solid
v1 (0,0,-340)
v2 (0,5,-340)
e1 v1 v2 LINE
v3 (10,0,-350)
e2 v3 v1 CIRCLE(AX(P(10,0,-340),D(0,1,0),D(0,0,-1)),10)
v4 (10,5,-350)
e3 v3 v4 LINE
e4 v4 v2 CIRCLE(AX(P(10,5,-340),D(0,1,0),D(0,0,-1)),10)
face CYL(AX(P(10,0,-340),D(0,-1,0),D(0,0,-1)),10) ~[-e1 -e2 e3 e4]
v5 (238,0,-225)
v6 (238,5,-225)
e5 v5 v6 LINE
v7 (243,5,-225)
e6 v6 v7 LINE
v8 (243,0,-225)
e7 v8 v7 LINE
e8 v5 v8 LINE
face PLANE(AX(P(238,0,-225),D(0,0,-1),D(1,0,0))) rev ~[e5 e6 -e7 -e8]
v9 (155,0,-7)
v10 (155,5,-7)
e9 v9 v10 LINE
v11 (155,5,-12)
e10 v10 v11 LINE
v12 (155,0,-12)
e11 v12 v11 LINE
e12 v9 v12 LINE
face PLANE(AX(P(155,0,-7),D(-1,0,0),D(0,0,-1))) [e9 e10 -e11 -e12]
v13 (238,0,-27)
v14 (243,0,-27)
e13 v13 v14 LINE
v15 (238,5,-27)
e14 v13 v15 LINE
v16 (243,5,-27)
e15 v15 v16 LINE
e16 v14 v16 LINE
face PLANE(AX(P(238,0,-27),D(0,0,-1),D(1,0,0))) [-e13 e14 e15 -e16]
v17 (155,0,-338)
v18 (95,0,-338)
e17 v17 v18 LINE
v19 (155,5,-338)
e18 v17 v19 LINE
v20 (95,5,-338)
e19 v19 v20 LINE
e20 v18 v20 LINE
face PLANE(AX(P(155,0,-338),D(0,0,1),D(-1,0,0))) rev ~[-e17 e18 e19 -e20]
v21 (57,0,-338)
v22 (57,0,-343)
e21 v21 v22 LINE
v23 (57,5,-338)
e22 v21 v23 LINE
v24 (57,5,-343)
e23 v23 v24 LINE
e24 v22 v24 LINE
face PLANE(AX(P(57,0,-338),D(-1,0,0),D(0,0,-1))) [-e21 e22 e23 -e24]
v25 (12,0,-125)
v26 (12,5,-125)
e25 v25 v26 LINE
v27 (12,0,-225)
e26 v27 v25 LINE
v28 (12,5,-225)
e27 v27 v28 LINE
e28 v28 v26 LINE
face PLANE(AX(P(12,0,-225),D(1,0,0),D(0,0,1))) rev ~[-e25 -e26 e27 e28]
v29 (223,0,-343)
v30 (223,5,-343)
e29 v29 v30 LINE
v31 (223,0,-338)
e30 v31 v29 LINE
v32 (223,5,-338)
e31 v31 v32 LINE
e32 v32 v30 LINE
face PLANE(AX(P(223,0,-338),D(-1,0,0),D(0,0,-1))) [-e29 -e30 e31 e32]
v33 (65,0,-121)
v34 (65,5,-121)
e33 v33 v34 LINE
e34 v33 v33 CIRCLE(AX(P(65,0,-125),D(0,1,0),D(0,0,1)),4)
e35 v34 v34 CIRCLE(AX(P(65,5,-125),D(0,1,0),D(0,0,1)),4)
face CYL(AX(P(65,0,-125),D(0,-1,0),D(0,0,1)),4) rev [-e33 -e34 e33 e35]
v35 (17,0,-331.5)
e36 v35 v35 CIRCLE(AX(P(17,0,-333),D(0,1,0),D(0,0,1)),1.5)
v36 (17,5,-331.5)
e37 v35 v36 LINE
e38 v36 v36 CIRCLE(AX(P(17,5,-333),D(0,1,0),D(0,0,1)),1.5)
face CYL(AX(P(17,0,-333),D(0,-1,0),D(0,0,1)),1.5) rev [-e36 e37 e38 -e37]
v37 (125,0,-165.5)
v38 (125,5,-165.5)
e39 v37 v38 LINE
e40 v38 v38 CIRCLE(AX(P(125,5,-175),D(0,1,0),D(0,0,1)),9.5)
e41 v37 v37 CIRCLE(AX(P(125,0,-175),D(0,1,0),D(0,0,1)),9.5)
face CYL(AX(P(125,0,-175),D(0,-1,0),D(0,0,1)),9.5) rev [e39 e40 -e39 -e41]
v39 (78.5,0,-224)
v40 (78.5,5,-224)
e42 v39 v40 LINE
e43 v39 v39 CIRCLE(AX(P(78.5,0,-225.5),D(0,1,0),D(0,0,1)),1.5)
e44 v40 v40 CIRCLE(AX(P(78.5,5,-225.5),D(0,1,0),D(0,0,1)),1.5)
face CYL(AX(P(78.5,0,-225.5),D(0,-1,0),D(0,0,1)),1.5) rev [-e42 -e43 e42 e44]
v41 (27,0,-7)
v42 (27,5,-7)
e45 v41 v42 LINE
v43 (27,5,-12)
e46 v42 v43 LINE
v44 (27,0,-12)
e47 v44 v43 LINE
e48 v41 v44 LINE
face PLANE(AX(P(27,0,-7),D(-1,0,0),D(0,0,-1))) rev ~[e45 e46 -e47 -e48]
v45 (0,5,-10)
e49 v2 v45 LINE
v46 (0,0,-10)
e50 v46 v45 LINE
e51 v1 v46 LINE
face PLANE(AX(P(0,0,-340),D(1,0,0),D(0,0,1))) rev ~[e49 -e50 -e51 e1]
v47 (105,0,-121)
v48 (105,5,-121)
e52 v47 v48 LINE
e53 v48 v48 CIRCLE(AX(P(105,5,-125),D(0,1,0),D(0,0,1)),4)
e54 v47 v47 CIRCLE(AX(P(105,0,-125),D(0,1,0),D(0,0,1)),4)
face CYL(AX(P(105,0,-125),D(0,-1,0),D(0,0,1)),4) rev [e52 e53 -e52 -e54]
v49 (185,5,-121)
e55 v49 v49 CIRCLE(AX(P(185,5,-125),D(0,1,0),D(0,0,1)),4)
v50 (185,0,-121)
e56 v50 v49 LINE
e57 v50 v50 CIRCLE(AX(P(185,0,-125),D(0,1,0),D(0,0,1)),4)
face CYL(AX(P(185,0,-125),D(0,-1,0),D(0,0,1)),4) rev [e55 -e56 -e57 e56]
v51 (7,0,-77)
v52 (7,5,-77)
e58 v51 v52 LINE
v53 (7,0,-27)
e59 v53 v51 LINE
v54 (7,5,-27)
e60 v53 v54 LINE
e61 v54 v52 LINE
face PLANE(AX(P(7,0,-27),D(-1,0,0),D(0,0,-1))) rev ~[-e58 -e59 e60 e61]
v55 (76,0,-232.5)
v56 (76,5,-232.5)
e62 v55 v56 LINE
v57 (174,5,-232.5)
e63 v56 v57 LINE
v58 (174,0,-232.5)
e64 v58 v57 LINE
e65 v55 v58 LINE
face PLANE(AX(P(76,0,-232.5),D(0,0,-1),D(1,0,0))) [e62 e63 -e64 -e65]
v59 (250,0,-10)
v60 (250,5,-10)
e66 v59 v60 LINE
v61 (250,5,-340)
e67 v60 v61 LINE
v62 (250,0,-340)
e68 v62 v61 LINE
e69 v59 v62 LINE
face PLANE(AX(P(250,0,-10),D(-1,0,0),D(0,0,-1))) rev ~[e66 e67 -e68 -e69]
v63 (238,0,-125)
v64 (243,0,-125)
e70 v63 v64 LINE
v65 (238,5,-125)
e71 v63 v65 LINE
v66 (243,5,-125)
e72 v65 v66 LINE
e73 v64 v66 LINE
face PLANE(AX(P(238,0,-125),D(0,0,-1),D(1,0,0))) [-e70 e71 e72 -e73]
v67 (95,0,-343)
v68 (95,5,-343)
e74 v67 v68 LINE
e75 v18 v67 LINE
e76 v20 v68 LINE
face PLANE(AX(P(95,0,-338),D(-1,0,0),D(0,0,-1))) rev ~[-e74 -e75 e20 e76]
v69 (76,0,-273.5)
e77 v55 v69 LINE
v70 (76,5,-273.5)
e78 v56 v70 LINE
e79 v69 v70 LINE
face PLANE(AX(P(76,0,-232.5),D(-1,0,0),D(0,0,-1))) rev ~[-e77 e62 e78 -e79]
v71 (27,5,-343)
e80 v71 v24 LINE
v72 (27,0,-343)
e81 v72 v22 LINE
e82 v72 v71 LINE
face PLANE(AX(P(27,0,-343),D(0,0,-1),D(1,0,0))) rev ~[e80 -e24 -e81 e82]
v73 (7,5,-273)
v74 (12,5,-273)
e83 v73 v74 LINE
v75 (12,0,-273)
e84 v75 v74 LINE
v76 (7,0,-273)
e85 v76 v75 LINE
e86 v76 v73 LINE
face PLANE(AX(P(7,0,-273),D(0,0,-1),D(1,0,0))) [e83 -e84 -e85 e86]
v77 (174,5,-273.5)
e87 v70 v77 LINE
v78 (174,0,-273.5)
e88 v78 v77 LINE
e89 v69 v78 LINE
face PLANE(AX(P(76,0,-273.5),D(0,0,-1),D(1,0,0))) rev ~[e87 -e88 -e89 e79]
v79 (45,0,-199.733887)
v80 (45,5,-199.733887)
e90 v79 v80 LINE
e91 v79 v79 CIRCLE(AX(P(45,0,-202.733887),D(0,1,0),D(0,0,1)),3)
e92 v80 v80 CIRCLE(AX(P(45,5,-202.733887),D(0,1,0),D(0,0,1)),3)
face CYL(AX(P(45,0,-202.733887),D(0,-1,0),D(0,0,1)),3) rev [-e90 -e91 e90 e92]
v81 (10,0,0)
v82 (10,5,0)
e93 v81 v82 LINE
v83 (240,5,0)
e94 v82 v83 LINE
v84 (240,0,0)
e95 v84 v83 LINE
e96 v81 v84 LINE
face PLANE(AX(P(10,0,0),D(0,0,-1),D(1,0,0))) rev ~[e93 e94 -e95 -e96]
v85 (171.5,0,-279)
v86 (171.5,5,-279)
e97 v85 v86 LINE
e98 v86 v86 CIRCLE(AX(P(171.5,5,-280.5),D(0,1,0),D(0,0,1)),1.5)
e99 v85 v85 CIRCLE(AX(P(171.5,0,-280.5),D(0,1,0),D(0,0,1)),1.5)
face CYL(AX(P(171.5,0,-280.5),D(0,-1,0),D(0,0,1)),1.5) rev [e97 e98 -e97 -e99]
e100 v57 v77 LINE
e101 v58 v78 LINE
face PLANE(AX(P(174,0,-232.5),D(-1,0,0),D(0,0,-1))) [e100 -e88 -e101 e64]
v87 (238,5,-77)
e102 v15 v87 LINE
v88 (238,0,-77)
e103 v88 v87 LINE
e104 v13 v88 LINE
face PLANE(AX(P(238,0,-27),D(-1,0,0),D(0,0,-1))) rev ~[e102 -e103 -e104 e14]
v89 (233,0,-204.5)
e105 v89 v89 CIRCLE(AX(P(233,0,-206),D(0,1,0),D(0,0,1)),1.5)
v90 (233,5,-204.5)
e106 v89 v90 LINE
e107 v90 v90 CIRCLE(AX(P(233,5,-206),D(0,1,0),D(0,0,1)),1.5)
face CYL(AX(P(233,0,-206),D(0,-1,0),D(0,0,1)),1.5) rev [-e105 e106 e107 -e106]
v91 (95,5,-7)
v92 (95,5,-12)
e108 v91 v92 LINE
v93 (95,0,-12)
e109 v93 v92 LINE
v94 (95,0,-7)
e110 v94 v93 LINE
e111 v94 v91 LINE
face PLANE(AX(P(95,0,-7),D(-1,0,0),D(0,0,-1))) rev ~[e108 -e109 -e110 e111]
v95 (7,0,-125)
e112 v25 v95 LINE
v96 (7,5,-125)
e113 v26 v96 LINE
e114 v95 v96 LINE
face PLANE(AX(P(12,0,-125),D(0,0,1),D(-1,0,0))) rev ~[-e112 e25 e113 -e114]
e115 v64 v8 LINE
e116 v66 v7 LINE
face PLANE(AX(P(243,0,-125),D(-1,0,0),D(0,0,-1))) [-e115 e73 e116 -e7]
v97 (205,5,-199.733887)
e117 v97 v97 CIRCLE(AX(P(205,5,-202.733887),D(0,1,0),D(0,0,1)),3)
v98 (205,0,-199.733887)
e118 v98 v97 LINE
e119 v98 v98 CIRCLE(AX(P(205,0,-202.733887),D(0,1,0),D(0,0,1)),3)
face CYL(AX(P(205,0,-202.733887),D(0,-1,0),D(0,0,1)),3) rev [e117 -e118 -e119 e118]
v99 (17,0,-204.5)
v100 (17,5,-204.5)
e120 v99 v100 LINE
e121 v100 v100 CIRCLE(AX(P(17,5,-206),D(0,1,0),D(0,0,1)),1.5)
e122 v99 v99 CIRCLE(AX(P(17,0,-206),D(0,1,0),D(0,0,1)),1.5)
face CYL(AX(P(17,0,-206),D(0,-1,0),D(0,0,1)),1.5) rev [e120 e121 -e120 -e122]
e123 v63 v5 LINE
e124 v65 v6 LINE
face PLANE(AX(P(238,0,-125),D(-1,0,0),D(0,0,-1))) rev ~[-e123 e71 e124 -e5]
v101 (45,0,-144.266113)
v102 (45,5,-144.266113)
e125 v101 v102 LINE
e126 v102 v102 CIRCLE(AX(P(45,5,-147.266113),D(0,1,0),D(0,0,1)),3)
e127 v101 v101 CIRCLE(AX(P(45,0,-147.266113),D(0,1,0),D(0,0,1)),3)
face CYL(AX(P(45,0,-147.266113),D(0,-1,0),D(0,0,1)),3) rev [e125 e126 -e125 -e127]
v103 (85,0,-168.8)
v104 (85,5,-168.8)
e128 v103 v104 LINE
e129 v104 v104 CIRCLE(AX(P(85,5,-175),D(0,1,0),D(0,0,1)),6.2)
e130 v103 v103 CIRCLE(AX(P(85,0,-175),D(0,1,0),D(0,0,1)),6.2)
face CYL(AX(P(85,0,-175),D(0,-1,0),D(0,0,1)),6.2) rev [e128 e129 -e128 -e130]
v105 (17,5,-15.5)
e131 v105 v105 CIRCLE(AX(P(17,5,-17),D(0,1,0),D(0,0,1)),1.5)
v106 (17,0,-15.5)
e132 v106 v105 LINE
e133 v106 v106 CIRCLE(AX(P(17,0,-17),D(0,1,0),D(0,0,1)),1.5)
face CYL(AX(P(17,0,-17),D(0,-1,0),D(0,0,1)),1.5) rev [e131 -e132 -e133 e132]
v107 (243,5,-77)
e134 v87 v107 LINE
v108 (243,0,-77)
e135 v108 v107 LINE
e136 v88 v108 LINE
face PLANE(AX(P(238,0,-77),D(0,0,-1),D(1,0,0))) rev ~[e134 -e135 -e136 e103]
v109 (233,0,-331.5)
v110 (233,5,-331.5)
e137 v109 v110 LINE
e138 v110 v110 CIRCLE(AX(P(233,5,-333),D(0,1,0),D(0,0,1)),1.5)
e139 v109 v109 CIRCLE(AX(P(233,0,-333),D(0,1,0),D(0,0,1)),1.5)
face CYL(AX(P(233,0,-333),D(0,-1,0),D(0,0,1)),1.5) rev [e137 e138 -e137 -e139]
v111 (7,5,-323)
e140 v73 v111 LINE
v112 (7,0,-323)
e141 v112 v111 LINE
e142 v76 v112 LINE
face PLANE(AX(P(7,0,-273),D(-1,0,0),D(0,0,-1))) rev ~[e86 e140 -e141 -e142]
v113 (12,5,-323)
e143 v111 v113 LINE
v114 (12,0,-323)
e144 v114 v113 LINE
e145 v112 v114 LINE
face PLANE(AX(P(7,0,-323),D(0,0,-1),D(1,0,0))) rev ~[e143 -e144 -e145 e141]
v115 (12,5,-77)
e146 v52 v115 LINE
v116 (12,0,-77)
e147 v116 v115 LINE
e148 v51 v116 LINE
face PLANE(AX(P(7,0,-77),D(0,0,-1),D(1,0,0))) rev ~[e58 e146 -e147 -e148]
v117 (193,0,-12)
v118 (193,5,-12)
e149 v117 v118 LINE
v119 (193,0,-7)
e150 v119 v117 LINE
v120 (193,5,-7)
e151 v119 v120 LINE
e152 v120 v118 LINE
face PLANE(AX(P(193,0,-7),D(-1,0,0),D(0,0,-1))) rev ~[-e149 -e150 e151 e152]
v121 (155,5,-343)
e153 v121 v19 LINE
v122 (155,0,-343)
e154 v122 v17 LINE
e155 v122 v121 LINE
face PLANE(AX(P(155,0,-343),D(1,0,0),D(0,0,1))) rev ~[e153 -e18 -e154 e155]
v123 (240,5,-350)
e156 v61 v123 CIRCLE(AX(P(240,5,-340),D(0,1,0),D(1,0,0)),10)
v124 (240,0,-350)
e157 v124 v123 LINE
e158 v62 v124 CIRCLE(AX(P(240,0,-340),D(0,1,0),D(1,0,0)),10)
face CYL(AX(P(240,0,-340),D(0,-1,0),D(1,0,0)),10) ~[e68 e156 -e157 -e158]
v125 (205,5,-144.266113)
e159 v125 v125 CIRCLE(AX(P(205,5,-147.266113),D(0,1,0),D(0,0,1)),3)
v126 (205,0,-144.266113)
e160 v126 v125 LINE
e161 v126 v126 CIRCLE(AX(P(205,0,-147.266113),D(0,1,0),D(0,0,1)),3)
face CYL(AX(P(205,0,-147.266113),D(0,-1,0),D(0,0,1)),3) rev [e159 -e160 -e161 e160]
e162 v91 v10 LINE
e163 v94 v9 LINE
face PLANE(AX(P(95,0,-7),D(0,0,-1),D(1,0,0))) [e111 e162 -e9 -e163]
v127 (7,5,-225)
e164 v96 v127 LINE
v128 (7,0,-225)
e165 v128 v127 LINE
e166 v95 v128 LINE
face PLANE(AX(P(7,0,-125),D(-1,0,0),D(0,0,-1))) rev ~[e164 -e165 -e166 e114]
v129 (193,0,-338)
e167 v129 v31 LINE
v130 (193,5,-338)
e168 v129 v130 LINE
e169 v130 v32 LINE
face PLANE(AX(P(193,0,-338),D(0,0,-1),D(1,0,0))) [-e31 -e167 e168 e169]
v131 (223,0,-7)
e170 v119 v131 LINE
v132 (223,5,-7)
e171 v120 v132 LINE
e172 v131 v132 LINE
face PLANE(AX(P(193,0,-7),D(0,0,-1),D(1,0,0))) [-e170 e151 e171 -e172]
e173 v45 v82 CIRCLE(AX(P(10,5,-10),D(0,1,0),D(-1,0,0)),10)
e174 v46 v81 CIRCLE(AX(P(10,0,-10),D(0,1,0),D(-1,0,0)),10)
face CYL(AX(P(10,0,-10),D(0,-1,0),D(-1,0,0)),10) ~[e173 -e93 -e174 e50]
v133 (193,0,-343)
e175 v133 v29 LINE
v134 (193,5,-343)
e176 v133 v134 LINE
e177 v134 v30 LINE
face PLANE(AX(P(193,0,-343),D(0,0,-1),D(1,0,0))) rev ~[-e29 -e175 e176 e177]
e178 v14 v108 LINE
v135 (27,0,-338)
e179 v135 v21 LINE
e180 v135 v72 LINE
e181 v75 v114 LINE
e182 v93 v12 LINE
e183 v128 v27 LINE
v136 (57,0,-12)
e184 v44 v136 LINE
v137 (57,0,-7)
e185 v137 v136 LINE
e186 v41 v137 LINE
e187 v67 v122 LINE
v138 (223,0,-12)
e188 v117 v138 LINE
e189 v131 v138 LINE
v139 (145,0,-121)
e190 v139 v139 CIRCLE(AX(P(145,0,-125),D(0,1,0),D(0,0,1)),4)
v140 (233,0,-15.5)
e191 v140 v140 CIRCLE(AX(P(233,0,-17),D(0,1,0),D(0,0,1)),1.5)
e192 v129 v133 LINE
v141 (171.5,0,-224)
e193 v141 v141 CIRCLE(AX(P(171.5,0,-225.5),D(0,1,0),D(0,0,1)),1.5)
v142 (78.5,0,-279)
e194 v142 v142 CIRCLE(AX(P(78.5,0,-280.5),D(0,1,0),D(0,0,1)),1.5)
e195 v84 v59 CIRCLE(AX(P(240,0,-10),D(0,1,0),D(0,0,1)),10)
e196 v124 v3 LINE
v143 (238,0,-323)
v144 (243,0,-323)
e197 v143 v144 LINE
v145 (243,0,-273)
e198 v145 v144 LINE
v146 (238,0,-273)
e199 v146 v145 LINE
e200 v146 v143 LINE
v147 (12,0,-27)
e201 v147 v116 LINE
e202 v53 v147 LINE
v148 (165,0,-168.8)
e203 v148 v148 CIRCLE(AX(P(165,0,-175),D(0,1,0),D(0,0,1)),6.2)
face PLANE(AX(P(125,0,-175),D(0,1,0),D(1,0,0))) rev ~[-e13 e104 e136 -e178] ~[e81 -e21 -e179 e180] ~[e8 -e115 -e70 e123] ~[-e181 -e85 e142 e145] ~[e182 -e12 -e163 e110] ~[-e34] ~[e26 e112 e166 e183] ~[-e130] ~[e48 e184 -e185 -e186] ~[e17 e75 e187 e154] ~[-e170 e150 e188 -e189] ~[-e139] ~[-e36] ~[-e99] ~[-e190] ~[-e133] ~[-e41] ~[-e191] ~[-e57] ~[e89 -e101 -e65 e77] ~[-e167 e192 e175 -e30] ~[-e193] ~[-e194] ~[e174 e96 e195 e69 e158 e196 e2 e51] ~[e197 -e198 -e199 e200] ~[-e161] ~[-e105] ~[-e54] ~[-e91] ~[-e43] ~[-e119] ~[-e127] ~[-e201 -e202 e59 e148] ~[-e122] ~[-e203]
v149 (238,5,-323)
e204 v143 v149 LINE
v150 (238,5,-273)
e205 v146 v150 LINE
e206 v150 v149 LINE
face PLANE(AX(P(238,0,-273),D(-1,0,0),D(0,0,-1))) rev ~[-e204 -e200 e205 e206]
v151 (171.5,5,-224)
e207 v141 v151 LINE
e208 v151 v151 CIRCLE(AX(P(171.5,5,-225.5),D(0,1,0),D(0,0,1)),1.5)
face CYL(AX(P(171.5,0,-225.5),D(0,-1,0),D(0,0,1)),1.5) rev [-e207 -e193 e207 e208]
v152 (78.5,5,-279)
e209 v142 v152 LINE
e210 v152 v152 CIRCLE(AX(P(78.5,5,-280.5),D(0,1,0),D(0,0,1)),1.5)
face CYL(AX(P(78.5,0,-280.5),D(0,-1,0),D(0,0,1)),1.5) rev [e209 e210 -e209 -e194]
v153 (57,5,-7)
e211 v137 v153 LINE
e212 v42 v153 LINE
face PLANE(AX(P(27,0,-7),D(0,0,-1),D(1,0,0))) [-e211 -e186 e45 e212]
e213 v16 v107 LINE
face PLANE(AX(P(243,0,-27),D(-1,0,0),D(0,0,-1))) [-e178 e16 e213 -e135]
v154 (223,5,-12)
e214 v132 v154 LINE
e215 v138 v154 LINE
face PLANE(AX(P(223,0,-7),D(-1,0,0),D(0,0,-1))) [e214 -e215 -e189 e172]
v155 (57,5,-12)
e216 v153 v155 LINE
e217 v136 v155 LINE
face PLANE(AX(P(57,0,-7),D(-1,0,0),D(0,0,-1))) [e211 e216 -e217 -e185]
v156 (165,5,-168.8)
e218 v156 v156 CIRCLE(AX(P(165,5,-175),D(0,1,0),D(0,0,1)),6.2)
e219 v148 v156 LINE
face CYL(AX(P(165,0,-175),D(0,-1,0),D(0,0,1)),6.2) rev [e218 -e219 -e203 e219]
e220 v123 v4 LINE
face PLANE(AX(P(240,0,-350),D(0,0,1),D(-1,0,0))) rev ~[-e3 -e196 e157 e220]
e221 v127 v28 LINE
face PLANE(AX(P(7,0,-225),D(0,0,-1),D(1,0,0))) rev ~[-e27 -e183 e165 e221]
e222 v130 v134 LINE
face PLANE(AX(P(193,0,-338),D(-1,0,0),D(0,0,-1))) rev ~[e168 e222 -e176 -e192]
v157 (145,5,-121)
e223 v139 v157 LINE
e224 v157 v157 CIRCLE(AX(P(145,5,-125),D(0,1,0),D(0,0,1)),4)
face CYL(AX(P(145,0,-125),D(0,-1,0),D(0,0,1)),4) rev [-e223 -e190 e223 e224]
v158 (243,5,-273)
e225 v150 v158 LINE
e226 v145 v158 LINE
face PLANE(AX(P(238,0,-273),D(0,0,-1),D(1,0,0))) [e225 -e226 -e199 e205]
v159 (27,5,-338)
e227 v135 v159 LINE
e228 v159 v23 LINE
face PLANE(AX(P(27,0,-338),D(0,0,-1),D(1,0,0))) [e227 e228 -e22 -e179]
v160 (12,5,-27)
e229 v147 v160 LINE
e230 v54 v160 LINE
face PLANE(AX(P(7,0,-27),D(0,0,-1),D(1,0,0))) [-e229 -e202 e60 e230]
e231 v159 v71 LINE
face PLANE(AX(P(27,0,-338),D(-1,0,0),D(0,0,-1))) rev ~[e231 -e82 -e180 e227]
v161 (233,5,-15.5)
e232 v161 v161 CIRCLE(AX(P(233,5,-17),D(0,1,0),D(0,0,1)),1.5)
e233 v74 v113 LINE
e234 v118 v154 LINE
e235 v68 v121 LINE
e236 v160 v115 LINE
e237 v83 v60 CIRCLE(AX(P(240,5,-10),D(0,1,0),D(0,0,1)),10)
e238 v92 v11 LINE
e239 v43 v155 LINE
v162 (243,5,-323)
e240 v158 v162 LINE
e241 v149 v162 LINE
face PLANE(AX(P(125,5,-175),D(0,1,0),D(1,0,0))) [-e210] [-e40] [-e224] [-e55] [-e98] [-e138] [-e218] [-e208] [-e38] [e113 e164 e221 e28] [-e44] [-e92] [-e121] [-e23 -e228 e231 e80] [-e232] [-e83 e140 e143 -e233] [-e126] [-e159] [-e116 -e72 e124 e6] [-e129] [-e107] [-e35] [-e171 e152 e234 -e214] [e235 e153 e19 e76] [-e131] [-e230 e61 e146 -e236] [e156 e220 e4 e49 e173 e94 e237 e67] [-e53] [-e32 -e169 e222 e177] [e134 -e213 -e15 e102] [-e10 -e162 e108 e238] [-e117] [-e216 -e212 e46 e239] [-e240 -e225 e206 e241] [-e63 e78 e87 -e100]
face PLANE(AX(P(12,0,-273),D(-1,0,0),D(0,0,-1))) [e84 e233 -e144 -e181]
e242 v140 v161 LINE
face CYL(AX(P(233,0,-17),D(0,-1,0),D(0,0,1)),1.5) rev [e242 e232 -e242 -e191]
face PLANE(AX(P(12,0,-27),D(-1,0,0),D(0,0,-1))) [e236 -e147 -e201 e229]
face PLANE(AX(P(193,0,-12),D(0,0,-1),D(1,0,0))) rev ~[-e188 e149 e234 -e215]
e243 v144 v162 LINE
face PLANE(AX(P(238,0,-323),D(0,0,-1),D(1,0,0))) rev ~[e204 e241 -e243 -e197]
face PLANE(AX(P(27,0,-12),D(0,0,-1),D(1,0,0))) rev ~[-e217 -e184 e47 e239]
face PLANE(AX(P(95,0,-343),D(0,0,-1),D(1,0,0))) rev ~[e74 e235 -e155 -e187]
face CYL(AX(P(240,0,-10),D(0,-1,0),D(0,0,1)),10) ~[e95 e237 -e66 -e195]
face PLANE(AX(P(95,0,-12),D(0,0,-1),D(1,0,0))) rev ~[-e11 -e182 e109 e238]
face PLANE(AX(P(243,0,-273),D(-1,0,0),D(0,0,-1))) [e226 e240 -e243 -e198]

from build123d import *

# Parameters (mm, degrees)
SKETCH1_R           = 1.5
SKETCH1_W           = 30
SKETCH1_H           = 5
SKETCH1_W_2         = 5
SKETCH1_H_2         = 50
SKETCH1_R_2         = 3
SKETCH1_R_3         = 4
SKETCH1_W_3         = 60
SKETCH1_R_4         = 6.2
SKETCH1_R_5         = 9.5
SKETCH1_W_4         = 98
SKETCH1_H_3         = 41
SKETCH1_H_4         = 100
BOSS_EXTRUDE1_DEPTH = 5


with BuildPart() as part:
    # Sketch1 → Boss-Extrude1 (new body)
    # profile 1 of 2: a face of its own
    with BuildSketch(Plane(origin=(0, 0, 0), x_dir=(1, 0, 0), z_dir=(0, 1, 0))):
        with BuildLine():
            ThreePointArc((0, 10), (2.928932188, 2.928932188), (10, 0))
            Line((10, 0), (240, 0))
            ThreePointArc((240, 0), (247.071067812, 2.928932188), (250, 10))
            Line((250, 10), (250, 340))
            ThreePointArc((250, 340), (247.071067812, 347.071067812), (240, 350))
            Line((240, 350), (10, 350))
            ThreePointArc((10, 350), (2.928932188, 347.071067812), (0, 340))
            Line((0, 340), (0, 10))
        make_face()
        with Locations(Location((17, 17, 0), (0, 0, 270))):
            Circle(SKETCH1_R, mode=Mode.SUBTRACT)
        with Locations((42, 9.5)):
            Rectangle(SKETCH1_W, SKETCH1_H, mode=Mode.SUBTRACT)
        with Locations((9.5, 52)):
            Rectangle(SKETCH1_W_2, SKETCH1_H_2, mode=Mode.SUBTRACT)
        with Locations(Location((45, 147.266112644, 0), (0, 0, 270))):
            Circle(SKETCH1_R_2, mode=Mode.SUBTRACT)
        with Locations(Location((65, 125, 0), (0, 0, 270))):
            Circle(SKETCH1_R_3, mode=Mode.SUBTRACT)
        with Locations(Location((105, 125, 0), (0, 0, 270))):
            Circle(SKETCH1_R_3, mode=Mode.SUBTRACT)
        with Locations((125, 9.5)):
            Rectangle(SKETCH1_W_3, SKETCH1_H, mode=Mode.SUBTRACT)
        with Locations((208, 9.5)):
            Rectangle(SKETCH1_W, SKETCH1_H, mode=Mode.SUBTRACT)
        with Locations(Location((233, 17, 0), (0, 0, 270))):
            Circle(SKETCH1_R, mode=Mode.SUBTRACT)
        with Locations((240.5, 52)):
            Rectangle(SKETCH1_W_2, SKETCH1_H_2, mode=Mode.SUBTRACT)
        with Locations(Location((145, 125, 0), (0, 0, 270))):
            Circle(SKETCH1_R_3, mode=Mode.SUBTRACT)
        with Locations(Location((185, 125, 0), (0, 0, 270))):
            Circle(SKETCH1_R_3, mode=Mode.SUBTRACT)
        with Locations(Location((205, 147.266112644, 0), (0, 0, 270))):
            Circle(SKETCH1_R_2, mode=Mode.SUBTRACT)
        Polygon((7, 175), (7, 225), (12, 225), (12, 125), (7, 125), align=None, mode=Mode.SUBTRACT)
        with Locations(Location((17, 206, 0), (0, 0, 270))):
            Circle(SKETCH1_R, mode=Mode.SUBTRACT)
        with Locations(Location((45, 202.733887356, 0), (0, 0, 270))):
            Circle(SKETCH1_R_2, mode=Mode.SUBTRACT)
        with Locations(Location((85, 175, 0), (0, 0, 270))):
            Circle(SKETCH1_R_4, mode=Mode.SUBTRACT)
        with Locations(Location((78.5, 225.5, 0), (0, 0, 270))):
            Circle(SKETCH1_R, mode=Mode.SUBTRACT)
        with Locations((9.5, 298)):
            Rectangle(SKETCH1_W_2, SKETCH1_H_2, mode=Mode.SUBTRACT)
        with Locations(Location((17, 333, 0), (0, 0, 270))):
            Circle(SKETCH1_R, mode=Mode.SUBTRACT)
        with Locations((42, 340.5)):
            Rectangle(SKETCH1_W, SKETCH1_H, mode=Mode.SUBTRACT)
        with Locations(Location((78.5, 280.5, 0), (0, 0, 270))):
            Circle(SKETCH1_R, mode=Mode.SUBTRACT)
        with Locations(Location((125, 175, 0), (0, 0, 270))):
            Circle(SKETCH1_R_5, mode=Mode.SUBTRACT)
        with Locations(Location((165, 175, 0), (0, 0, 270))):
            Circle(SKETCH1_R_4, mode=Mode.SUBTRACT)
        with Locations((125, 253)):
            Rectangle(SKETCH1_W_4, SKETCH1_H_3, mode=Mode.SUBTRACT)
        with Locations(Location((171.5, 225.5, 0), (0, 0, 270))):
            Circle(SKETCH1_R, mode=Mode.SUBTRACT)
        with Locations(Location((205, 202.733887356, 0), (0, 0, 270))):
            Circle(SKETCH1_R_2, mode=Mode.SUBTRACT)
        with Locations((240.5, 175)):
            Rectangle(SKETCH1_W_2, SKETCH1_H_4, mode=Mode.SUBTRACT)
        with Locations(Location((233, 206, 0), (0, 0, 270))):
            Circle(SKETCH1_R, mode=Mode.SUBTRACT)
        with Locations(Location((171.5, 280.5, 0), (0, 0, 270))):
            Circle(SKETCH1_R, mode=Mode.SUBTRACT)
        Polygon((95, 343), (125, 343), (155, 343), (155, 338), (95, 338), align=None, mode=Mode.SUBTRACT)
        with Locations((240.5, 298)):
            Rectangle(SKETCH1_W_2, SKETCH1_H_2, mode=Mode.SUBTRACT)
        with Locations((208, 340.5)):
            Rectangle(SKETCH1_W, SKETCH1_H, mode=Mode.SUBTRACT)
        with Locations(Location((233, 333, 0), (0, 0, 270))):
            Circle(SKETCH1_R, mode=Mode.SUBTRACT)
    # profile 2 of 2: a face of its own
    with BuildSketch(Plane(origin=(0, 0, 0), x_dir=(1, 0, 0), z_dir=(0, 1, 0))):
        with BuildLine():
            ThreePointArc((0, 10), (2.928932188, 2.928932188), (10, 0))
            Line((10, 0), (240, 0))
            ThreePointArc((240, 0), (247.071067812, 2.928932188), (250, 10))
            Line((250, 10), (250, 340))
            ThreePointArc((250, 340), (247.071067812, 347.071067812), (240, 350))
            Line((240, 350), (10, 350))
            ThreePointArc((10, 350), (2.928932188, 347.071067812), (0, 340))
            Line((0, 340), (0, 10))
        make_face()
        with Locations(Location((17, 17, 0), (0, 0, 270))):
            Circle(SKETCH1_R, mode=Mode.SUBTRACT)
        with Locations((42, 9.5)):
            Rectangle(SKETCH1_W, SKETCH1_H, mode=Mode.SUBTRACT)
        with Locations((9.5, 52)):
            Rectangle(SKETCH1_W_2, SKETCH1_H_2, mode=Mode.SUBTRACT)
        with Locations(Location((45, 147.266112644, 0), (0, 0, 270))):
            Circle(SKETCH1_R_2, mode=Mode.SUBTRACT)
        with Locations(Location((65, 125, 0), (0, 0, 270))):
            Circle(SKETCH1_R_3, mode=Mode.SUBTRACT)
        with Locations(Location((105, 125, 0), (0, 0, 270))):
            Circle(SKETCH1_R_3, mode=Mode.SUBTRACT)
        with Locations((125, 9.5)):
            Rectangle(SKETCH1_W_3, SKETCH1_H, mode=Mode.SUBTRACT)
        with Locations((208, 9.5)):
            Rectangle(SKETCH1_W, SKETCH1_H, mode=Mode.SUBTRACT)
        with Locations(Location((233, 17, 0), (0, 0, 270))):
            Circle(SKETCH1_R, mode=Mode.SUBTRACT)
        with Locations((240.5, 52)):
            Rectangle(SKETCH1_W_2, SKETCH1_H_2, mode=Mode.SUBTRACT)
        with Locations(Location((145, 125, 0), (0, 0, 270))):
            Circle(SKETCH1_R_3, mode=Mode.SUBTRACT)
        with Locations(Location((185, 125, 0), (0, 0, 270))):
            Circle(SKETCH1_R_3, mode=Mode.SUBTRACT)
        with Locations(Location((205, 147.266112644, 0), (0, 0, 270))):
            Circle(SKETCH1_R_2, mode=Mode.SUBTRACT)
        Polygon((7, 175), (7, 225), (12, 225), (12, 125), (7, 125), align=None, mode=Mode.SUBTRACT)
        with Locations(Location((17, 206, 0), (0, 0, 270))):
            Circle(SKETCH1_R, mode=Mode.SUBTRACT)
        with Locations(Location((45, 202.733887356, 0), (0, 0, 270))):
            Circle(SKETCH1_R_2, mode=Mode.SUBTRACT)
        with Locations(Location((85, 175, 0), (0, 0, 270))):
            Circle(SKETCH1_R_4, mode=Mode.SUBTRACT)
        with Locations(Location((78.5, 225.5, 0), (0, 0, 270))):
            Circle(SKETCH1_R, mode=Mode.SUBTRACT)
        with Locations((9.5, 298)):
            Rectangle(SKETCH1_W_2, SKETCH1_H_2, mode=Mode.SUBTRACT)
        with Locations(Location((17, 333, 0), (0, 0, 270))):
            Circle(SKETCH1_R, mode=Mode.SUBTRACT)
        with Locations((42, 340.5)):
            Rectangle(SKETCH1_W, SKETCH1_H, mode=Mode.SUBTRACT)
        with Locations(Location((78.5, 280.5, 0), (0, 0, 270))):
            Circle(SKETCH1_R, mode=Mode.SUBTRACT)
        with Locations(Location((125, 175, 0), (0, 0, 270))):
            Circle(SKETCH1_R_5, mode=Mode.SUBTRACT)
        with Locations(Location((165, 175, 0), (0, 0, 270))):
            Circle(SKETCH1_R_4, mode=Mode.SUBTRACT)
        with Locations((125, 253)):
            Rectangle(SKETCH1_W_4, SKETCH1_H_3, mode=Mode.SUBTRACT)
        with Locations(Location((171.5, 225.5, 0), (0, 0, 270))):
            Circle(SKETCH1_R, mode=Mode.SUBTRACT)
        with Locations(Location((205, 202.733887356, 0), (0, 0, 270))):
            Circle(SKETCH1_R_2, mode=Mode.SUBTRACT)
        with Locations((240.5, 175)):
            Rectangle(SKETCH1_W_2, SKETCH1_H_4, mode=Mode.SUBTRACT)
        with Locations(Location((233, 206, 0), (0, 0, 270))):
            Circle(SKETCH1_R, mode=Mode.SUBTRACT)
        with Locations(Location((171.5, 280.5, 0), (0, 0, 270))):
            Circle(SKETCH1_R, mode=Mode.SUBTRACT)
        Polygon((95, 343), (125, 343), (155, 343), (155, 338), (95, 338), align=None, mode=Mode.SUBTRACT)
        with Locations((240.5, 298)):
            Rectangle(SKETCH1_W_2, SKETCH1_H_2, mode=Mode.SUBTRACT)
        with Locations((208, 340.5)):
            Rectangle(SKETCH1_W, SKETCH1_H, mode=Mode.SUBTRACT)
        with Locations(Location((233, 333, 0), (0, 0, 270))):
            Circle(SKETCH1_R, mode=Mode.SUBTRACT)
    extrude(amount=BOSS_EXTRUDE1_DEPTH)


solid = part.part
